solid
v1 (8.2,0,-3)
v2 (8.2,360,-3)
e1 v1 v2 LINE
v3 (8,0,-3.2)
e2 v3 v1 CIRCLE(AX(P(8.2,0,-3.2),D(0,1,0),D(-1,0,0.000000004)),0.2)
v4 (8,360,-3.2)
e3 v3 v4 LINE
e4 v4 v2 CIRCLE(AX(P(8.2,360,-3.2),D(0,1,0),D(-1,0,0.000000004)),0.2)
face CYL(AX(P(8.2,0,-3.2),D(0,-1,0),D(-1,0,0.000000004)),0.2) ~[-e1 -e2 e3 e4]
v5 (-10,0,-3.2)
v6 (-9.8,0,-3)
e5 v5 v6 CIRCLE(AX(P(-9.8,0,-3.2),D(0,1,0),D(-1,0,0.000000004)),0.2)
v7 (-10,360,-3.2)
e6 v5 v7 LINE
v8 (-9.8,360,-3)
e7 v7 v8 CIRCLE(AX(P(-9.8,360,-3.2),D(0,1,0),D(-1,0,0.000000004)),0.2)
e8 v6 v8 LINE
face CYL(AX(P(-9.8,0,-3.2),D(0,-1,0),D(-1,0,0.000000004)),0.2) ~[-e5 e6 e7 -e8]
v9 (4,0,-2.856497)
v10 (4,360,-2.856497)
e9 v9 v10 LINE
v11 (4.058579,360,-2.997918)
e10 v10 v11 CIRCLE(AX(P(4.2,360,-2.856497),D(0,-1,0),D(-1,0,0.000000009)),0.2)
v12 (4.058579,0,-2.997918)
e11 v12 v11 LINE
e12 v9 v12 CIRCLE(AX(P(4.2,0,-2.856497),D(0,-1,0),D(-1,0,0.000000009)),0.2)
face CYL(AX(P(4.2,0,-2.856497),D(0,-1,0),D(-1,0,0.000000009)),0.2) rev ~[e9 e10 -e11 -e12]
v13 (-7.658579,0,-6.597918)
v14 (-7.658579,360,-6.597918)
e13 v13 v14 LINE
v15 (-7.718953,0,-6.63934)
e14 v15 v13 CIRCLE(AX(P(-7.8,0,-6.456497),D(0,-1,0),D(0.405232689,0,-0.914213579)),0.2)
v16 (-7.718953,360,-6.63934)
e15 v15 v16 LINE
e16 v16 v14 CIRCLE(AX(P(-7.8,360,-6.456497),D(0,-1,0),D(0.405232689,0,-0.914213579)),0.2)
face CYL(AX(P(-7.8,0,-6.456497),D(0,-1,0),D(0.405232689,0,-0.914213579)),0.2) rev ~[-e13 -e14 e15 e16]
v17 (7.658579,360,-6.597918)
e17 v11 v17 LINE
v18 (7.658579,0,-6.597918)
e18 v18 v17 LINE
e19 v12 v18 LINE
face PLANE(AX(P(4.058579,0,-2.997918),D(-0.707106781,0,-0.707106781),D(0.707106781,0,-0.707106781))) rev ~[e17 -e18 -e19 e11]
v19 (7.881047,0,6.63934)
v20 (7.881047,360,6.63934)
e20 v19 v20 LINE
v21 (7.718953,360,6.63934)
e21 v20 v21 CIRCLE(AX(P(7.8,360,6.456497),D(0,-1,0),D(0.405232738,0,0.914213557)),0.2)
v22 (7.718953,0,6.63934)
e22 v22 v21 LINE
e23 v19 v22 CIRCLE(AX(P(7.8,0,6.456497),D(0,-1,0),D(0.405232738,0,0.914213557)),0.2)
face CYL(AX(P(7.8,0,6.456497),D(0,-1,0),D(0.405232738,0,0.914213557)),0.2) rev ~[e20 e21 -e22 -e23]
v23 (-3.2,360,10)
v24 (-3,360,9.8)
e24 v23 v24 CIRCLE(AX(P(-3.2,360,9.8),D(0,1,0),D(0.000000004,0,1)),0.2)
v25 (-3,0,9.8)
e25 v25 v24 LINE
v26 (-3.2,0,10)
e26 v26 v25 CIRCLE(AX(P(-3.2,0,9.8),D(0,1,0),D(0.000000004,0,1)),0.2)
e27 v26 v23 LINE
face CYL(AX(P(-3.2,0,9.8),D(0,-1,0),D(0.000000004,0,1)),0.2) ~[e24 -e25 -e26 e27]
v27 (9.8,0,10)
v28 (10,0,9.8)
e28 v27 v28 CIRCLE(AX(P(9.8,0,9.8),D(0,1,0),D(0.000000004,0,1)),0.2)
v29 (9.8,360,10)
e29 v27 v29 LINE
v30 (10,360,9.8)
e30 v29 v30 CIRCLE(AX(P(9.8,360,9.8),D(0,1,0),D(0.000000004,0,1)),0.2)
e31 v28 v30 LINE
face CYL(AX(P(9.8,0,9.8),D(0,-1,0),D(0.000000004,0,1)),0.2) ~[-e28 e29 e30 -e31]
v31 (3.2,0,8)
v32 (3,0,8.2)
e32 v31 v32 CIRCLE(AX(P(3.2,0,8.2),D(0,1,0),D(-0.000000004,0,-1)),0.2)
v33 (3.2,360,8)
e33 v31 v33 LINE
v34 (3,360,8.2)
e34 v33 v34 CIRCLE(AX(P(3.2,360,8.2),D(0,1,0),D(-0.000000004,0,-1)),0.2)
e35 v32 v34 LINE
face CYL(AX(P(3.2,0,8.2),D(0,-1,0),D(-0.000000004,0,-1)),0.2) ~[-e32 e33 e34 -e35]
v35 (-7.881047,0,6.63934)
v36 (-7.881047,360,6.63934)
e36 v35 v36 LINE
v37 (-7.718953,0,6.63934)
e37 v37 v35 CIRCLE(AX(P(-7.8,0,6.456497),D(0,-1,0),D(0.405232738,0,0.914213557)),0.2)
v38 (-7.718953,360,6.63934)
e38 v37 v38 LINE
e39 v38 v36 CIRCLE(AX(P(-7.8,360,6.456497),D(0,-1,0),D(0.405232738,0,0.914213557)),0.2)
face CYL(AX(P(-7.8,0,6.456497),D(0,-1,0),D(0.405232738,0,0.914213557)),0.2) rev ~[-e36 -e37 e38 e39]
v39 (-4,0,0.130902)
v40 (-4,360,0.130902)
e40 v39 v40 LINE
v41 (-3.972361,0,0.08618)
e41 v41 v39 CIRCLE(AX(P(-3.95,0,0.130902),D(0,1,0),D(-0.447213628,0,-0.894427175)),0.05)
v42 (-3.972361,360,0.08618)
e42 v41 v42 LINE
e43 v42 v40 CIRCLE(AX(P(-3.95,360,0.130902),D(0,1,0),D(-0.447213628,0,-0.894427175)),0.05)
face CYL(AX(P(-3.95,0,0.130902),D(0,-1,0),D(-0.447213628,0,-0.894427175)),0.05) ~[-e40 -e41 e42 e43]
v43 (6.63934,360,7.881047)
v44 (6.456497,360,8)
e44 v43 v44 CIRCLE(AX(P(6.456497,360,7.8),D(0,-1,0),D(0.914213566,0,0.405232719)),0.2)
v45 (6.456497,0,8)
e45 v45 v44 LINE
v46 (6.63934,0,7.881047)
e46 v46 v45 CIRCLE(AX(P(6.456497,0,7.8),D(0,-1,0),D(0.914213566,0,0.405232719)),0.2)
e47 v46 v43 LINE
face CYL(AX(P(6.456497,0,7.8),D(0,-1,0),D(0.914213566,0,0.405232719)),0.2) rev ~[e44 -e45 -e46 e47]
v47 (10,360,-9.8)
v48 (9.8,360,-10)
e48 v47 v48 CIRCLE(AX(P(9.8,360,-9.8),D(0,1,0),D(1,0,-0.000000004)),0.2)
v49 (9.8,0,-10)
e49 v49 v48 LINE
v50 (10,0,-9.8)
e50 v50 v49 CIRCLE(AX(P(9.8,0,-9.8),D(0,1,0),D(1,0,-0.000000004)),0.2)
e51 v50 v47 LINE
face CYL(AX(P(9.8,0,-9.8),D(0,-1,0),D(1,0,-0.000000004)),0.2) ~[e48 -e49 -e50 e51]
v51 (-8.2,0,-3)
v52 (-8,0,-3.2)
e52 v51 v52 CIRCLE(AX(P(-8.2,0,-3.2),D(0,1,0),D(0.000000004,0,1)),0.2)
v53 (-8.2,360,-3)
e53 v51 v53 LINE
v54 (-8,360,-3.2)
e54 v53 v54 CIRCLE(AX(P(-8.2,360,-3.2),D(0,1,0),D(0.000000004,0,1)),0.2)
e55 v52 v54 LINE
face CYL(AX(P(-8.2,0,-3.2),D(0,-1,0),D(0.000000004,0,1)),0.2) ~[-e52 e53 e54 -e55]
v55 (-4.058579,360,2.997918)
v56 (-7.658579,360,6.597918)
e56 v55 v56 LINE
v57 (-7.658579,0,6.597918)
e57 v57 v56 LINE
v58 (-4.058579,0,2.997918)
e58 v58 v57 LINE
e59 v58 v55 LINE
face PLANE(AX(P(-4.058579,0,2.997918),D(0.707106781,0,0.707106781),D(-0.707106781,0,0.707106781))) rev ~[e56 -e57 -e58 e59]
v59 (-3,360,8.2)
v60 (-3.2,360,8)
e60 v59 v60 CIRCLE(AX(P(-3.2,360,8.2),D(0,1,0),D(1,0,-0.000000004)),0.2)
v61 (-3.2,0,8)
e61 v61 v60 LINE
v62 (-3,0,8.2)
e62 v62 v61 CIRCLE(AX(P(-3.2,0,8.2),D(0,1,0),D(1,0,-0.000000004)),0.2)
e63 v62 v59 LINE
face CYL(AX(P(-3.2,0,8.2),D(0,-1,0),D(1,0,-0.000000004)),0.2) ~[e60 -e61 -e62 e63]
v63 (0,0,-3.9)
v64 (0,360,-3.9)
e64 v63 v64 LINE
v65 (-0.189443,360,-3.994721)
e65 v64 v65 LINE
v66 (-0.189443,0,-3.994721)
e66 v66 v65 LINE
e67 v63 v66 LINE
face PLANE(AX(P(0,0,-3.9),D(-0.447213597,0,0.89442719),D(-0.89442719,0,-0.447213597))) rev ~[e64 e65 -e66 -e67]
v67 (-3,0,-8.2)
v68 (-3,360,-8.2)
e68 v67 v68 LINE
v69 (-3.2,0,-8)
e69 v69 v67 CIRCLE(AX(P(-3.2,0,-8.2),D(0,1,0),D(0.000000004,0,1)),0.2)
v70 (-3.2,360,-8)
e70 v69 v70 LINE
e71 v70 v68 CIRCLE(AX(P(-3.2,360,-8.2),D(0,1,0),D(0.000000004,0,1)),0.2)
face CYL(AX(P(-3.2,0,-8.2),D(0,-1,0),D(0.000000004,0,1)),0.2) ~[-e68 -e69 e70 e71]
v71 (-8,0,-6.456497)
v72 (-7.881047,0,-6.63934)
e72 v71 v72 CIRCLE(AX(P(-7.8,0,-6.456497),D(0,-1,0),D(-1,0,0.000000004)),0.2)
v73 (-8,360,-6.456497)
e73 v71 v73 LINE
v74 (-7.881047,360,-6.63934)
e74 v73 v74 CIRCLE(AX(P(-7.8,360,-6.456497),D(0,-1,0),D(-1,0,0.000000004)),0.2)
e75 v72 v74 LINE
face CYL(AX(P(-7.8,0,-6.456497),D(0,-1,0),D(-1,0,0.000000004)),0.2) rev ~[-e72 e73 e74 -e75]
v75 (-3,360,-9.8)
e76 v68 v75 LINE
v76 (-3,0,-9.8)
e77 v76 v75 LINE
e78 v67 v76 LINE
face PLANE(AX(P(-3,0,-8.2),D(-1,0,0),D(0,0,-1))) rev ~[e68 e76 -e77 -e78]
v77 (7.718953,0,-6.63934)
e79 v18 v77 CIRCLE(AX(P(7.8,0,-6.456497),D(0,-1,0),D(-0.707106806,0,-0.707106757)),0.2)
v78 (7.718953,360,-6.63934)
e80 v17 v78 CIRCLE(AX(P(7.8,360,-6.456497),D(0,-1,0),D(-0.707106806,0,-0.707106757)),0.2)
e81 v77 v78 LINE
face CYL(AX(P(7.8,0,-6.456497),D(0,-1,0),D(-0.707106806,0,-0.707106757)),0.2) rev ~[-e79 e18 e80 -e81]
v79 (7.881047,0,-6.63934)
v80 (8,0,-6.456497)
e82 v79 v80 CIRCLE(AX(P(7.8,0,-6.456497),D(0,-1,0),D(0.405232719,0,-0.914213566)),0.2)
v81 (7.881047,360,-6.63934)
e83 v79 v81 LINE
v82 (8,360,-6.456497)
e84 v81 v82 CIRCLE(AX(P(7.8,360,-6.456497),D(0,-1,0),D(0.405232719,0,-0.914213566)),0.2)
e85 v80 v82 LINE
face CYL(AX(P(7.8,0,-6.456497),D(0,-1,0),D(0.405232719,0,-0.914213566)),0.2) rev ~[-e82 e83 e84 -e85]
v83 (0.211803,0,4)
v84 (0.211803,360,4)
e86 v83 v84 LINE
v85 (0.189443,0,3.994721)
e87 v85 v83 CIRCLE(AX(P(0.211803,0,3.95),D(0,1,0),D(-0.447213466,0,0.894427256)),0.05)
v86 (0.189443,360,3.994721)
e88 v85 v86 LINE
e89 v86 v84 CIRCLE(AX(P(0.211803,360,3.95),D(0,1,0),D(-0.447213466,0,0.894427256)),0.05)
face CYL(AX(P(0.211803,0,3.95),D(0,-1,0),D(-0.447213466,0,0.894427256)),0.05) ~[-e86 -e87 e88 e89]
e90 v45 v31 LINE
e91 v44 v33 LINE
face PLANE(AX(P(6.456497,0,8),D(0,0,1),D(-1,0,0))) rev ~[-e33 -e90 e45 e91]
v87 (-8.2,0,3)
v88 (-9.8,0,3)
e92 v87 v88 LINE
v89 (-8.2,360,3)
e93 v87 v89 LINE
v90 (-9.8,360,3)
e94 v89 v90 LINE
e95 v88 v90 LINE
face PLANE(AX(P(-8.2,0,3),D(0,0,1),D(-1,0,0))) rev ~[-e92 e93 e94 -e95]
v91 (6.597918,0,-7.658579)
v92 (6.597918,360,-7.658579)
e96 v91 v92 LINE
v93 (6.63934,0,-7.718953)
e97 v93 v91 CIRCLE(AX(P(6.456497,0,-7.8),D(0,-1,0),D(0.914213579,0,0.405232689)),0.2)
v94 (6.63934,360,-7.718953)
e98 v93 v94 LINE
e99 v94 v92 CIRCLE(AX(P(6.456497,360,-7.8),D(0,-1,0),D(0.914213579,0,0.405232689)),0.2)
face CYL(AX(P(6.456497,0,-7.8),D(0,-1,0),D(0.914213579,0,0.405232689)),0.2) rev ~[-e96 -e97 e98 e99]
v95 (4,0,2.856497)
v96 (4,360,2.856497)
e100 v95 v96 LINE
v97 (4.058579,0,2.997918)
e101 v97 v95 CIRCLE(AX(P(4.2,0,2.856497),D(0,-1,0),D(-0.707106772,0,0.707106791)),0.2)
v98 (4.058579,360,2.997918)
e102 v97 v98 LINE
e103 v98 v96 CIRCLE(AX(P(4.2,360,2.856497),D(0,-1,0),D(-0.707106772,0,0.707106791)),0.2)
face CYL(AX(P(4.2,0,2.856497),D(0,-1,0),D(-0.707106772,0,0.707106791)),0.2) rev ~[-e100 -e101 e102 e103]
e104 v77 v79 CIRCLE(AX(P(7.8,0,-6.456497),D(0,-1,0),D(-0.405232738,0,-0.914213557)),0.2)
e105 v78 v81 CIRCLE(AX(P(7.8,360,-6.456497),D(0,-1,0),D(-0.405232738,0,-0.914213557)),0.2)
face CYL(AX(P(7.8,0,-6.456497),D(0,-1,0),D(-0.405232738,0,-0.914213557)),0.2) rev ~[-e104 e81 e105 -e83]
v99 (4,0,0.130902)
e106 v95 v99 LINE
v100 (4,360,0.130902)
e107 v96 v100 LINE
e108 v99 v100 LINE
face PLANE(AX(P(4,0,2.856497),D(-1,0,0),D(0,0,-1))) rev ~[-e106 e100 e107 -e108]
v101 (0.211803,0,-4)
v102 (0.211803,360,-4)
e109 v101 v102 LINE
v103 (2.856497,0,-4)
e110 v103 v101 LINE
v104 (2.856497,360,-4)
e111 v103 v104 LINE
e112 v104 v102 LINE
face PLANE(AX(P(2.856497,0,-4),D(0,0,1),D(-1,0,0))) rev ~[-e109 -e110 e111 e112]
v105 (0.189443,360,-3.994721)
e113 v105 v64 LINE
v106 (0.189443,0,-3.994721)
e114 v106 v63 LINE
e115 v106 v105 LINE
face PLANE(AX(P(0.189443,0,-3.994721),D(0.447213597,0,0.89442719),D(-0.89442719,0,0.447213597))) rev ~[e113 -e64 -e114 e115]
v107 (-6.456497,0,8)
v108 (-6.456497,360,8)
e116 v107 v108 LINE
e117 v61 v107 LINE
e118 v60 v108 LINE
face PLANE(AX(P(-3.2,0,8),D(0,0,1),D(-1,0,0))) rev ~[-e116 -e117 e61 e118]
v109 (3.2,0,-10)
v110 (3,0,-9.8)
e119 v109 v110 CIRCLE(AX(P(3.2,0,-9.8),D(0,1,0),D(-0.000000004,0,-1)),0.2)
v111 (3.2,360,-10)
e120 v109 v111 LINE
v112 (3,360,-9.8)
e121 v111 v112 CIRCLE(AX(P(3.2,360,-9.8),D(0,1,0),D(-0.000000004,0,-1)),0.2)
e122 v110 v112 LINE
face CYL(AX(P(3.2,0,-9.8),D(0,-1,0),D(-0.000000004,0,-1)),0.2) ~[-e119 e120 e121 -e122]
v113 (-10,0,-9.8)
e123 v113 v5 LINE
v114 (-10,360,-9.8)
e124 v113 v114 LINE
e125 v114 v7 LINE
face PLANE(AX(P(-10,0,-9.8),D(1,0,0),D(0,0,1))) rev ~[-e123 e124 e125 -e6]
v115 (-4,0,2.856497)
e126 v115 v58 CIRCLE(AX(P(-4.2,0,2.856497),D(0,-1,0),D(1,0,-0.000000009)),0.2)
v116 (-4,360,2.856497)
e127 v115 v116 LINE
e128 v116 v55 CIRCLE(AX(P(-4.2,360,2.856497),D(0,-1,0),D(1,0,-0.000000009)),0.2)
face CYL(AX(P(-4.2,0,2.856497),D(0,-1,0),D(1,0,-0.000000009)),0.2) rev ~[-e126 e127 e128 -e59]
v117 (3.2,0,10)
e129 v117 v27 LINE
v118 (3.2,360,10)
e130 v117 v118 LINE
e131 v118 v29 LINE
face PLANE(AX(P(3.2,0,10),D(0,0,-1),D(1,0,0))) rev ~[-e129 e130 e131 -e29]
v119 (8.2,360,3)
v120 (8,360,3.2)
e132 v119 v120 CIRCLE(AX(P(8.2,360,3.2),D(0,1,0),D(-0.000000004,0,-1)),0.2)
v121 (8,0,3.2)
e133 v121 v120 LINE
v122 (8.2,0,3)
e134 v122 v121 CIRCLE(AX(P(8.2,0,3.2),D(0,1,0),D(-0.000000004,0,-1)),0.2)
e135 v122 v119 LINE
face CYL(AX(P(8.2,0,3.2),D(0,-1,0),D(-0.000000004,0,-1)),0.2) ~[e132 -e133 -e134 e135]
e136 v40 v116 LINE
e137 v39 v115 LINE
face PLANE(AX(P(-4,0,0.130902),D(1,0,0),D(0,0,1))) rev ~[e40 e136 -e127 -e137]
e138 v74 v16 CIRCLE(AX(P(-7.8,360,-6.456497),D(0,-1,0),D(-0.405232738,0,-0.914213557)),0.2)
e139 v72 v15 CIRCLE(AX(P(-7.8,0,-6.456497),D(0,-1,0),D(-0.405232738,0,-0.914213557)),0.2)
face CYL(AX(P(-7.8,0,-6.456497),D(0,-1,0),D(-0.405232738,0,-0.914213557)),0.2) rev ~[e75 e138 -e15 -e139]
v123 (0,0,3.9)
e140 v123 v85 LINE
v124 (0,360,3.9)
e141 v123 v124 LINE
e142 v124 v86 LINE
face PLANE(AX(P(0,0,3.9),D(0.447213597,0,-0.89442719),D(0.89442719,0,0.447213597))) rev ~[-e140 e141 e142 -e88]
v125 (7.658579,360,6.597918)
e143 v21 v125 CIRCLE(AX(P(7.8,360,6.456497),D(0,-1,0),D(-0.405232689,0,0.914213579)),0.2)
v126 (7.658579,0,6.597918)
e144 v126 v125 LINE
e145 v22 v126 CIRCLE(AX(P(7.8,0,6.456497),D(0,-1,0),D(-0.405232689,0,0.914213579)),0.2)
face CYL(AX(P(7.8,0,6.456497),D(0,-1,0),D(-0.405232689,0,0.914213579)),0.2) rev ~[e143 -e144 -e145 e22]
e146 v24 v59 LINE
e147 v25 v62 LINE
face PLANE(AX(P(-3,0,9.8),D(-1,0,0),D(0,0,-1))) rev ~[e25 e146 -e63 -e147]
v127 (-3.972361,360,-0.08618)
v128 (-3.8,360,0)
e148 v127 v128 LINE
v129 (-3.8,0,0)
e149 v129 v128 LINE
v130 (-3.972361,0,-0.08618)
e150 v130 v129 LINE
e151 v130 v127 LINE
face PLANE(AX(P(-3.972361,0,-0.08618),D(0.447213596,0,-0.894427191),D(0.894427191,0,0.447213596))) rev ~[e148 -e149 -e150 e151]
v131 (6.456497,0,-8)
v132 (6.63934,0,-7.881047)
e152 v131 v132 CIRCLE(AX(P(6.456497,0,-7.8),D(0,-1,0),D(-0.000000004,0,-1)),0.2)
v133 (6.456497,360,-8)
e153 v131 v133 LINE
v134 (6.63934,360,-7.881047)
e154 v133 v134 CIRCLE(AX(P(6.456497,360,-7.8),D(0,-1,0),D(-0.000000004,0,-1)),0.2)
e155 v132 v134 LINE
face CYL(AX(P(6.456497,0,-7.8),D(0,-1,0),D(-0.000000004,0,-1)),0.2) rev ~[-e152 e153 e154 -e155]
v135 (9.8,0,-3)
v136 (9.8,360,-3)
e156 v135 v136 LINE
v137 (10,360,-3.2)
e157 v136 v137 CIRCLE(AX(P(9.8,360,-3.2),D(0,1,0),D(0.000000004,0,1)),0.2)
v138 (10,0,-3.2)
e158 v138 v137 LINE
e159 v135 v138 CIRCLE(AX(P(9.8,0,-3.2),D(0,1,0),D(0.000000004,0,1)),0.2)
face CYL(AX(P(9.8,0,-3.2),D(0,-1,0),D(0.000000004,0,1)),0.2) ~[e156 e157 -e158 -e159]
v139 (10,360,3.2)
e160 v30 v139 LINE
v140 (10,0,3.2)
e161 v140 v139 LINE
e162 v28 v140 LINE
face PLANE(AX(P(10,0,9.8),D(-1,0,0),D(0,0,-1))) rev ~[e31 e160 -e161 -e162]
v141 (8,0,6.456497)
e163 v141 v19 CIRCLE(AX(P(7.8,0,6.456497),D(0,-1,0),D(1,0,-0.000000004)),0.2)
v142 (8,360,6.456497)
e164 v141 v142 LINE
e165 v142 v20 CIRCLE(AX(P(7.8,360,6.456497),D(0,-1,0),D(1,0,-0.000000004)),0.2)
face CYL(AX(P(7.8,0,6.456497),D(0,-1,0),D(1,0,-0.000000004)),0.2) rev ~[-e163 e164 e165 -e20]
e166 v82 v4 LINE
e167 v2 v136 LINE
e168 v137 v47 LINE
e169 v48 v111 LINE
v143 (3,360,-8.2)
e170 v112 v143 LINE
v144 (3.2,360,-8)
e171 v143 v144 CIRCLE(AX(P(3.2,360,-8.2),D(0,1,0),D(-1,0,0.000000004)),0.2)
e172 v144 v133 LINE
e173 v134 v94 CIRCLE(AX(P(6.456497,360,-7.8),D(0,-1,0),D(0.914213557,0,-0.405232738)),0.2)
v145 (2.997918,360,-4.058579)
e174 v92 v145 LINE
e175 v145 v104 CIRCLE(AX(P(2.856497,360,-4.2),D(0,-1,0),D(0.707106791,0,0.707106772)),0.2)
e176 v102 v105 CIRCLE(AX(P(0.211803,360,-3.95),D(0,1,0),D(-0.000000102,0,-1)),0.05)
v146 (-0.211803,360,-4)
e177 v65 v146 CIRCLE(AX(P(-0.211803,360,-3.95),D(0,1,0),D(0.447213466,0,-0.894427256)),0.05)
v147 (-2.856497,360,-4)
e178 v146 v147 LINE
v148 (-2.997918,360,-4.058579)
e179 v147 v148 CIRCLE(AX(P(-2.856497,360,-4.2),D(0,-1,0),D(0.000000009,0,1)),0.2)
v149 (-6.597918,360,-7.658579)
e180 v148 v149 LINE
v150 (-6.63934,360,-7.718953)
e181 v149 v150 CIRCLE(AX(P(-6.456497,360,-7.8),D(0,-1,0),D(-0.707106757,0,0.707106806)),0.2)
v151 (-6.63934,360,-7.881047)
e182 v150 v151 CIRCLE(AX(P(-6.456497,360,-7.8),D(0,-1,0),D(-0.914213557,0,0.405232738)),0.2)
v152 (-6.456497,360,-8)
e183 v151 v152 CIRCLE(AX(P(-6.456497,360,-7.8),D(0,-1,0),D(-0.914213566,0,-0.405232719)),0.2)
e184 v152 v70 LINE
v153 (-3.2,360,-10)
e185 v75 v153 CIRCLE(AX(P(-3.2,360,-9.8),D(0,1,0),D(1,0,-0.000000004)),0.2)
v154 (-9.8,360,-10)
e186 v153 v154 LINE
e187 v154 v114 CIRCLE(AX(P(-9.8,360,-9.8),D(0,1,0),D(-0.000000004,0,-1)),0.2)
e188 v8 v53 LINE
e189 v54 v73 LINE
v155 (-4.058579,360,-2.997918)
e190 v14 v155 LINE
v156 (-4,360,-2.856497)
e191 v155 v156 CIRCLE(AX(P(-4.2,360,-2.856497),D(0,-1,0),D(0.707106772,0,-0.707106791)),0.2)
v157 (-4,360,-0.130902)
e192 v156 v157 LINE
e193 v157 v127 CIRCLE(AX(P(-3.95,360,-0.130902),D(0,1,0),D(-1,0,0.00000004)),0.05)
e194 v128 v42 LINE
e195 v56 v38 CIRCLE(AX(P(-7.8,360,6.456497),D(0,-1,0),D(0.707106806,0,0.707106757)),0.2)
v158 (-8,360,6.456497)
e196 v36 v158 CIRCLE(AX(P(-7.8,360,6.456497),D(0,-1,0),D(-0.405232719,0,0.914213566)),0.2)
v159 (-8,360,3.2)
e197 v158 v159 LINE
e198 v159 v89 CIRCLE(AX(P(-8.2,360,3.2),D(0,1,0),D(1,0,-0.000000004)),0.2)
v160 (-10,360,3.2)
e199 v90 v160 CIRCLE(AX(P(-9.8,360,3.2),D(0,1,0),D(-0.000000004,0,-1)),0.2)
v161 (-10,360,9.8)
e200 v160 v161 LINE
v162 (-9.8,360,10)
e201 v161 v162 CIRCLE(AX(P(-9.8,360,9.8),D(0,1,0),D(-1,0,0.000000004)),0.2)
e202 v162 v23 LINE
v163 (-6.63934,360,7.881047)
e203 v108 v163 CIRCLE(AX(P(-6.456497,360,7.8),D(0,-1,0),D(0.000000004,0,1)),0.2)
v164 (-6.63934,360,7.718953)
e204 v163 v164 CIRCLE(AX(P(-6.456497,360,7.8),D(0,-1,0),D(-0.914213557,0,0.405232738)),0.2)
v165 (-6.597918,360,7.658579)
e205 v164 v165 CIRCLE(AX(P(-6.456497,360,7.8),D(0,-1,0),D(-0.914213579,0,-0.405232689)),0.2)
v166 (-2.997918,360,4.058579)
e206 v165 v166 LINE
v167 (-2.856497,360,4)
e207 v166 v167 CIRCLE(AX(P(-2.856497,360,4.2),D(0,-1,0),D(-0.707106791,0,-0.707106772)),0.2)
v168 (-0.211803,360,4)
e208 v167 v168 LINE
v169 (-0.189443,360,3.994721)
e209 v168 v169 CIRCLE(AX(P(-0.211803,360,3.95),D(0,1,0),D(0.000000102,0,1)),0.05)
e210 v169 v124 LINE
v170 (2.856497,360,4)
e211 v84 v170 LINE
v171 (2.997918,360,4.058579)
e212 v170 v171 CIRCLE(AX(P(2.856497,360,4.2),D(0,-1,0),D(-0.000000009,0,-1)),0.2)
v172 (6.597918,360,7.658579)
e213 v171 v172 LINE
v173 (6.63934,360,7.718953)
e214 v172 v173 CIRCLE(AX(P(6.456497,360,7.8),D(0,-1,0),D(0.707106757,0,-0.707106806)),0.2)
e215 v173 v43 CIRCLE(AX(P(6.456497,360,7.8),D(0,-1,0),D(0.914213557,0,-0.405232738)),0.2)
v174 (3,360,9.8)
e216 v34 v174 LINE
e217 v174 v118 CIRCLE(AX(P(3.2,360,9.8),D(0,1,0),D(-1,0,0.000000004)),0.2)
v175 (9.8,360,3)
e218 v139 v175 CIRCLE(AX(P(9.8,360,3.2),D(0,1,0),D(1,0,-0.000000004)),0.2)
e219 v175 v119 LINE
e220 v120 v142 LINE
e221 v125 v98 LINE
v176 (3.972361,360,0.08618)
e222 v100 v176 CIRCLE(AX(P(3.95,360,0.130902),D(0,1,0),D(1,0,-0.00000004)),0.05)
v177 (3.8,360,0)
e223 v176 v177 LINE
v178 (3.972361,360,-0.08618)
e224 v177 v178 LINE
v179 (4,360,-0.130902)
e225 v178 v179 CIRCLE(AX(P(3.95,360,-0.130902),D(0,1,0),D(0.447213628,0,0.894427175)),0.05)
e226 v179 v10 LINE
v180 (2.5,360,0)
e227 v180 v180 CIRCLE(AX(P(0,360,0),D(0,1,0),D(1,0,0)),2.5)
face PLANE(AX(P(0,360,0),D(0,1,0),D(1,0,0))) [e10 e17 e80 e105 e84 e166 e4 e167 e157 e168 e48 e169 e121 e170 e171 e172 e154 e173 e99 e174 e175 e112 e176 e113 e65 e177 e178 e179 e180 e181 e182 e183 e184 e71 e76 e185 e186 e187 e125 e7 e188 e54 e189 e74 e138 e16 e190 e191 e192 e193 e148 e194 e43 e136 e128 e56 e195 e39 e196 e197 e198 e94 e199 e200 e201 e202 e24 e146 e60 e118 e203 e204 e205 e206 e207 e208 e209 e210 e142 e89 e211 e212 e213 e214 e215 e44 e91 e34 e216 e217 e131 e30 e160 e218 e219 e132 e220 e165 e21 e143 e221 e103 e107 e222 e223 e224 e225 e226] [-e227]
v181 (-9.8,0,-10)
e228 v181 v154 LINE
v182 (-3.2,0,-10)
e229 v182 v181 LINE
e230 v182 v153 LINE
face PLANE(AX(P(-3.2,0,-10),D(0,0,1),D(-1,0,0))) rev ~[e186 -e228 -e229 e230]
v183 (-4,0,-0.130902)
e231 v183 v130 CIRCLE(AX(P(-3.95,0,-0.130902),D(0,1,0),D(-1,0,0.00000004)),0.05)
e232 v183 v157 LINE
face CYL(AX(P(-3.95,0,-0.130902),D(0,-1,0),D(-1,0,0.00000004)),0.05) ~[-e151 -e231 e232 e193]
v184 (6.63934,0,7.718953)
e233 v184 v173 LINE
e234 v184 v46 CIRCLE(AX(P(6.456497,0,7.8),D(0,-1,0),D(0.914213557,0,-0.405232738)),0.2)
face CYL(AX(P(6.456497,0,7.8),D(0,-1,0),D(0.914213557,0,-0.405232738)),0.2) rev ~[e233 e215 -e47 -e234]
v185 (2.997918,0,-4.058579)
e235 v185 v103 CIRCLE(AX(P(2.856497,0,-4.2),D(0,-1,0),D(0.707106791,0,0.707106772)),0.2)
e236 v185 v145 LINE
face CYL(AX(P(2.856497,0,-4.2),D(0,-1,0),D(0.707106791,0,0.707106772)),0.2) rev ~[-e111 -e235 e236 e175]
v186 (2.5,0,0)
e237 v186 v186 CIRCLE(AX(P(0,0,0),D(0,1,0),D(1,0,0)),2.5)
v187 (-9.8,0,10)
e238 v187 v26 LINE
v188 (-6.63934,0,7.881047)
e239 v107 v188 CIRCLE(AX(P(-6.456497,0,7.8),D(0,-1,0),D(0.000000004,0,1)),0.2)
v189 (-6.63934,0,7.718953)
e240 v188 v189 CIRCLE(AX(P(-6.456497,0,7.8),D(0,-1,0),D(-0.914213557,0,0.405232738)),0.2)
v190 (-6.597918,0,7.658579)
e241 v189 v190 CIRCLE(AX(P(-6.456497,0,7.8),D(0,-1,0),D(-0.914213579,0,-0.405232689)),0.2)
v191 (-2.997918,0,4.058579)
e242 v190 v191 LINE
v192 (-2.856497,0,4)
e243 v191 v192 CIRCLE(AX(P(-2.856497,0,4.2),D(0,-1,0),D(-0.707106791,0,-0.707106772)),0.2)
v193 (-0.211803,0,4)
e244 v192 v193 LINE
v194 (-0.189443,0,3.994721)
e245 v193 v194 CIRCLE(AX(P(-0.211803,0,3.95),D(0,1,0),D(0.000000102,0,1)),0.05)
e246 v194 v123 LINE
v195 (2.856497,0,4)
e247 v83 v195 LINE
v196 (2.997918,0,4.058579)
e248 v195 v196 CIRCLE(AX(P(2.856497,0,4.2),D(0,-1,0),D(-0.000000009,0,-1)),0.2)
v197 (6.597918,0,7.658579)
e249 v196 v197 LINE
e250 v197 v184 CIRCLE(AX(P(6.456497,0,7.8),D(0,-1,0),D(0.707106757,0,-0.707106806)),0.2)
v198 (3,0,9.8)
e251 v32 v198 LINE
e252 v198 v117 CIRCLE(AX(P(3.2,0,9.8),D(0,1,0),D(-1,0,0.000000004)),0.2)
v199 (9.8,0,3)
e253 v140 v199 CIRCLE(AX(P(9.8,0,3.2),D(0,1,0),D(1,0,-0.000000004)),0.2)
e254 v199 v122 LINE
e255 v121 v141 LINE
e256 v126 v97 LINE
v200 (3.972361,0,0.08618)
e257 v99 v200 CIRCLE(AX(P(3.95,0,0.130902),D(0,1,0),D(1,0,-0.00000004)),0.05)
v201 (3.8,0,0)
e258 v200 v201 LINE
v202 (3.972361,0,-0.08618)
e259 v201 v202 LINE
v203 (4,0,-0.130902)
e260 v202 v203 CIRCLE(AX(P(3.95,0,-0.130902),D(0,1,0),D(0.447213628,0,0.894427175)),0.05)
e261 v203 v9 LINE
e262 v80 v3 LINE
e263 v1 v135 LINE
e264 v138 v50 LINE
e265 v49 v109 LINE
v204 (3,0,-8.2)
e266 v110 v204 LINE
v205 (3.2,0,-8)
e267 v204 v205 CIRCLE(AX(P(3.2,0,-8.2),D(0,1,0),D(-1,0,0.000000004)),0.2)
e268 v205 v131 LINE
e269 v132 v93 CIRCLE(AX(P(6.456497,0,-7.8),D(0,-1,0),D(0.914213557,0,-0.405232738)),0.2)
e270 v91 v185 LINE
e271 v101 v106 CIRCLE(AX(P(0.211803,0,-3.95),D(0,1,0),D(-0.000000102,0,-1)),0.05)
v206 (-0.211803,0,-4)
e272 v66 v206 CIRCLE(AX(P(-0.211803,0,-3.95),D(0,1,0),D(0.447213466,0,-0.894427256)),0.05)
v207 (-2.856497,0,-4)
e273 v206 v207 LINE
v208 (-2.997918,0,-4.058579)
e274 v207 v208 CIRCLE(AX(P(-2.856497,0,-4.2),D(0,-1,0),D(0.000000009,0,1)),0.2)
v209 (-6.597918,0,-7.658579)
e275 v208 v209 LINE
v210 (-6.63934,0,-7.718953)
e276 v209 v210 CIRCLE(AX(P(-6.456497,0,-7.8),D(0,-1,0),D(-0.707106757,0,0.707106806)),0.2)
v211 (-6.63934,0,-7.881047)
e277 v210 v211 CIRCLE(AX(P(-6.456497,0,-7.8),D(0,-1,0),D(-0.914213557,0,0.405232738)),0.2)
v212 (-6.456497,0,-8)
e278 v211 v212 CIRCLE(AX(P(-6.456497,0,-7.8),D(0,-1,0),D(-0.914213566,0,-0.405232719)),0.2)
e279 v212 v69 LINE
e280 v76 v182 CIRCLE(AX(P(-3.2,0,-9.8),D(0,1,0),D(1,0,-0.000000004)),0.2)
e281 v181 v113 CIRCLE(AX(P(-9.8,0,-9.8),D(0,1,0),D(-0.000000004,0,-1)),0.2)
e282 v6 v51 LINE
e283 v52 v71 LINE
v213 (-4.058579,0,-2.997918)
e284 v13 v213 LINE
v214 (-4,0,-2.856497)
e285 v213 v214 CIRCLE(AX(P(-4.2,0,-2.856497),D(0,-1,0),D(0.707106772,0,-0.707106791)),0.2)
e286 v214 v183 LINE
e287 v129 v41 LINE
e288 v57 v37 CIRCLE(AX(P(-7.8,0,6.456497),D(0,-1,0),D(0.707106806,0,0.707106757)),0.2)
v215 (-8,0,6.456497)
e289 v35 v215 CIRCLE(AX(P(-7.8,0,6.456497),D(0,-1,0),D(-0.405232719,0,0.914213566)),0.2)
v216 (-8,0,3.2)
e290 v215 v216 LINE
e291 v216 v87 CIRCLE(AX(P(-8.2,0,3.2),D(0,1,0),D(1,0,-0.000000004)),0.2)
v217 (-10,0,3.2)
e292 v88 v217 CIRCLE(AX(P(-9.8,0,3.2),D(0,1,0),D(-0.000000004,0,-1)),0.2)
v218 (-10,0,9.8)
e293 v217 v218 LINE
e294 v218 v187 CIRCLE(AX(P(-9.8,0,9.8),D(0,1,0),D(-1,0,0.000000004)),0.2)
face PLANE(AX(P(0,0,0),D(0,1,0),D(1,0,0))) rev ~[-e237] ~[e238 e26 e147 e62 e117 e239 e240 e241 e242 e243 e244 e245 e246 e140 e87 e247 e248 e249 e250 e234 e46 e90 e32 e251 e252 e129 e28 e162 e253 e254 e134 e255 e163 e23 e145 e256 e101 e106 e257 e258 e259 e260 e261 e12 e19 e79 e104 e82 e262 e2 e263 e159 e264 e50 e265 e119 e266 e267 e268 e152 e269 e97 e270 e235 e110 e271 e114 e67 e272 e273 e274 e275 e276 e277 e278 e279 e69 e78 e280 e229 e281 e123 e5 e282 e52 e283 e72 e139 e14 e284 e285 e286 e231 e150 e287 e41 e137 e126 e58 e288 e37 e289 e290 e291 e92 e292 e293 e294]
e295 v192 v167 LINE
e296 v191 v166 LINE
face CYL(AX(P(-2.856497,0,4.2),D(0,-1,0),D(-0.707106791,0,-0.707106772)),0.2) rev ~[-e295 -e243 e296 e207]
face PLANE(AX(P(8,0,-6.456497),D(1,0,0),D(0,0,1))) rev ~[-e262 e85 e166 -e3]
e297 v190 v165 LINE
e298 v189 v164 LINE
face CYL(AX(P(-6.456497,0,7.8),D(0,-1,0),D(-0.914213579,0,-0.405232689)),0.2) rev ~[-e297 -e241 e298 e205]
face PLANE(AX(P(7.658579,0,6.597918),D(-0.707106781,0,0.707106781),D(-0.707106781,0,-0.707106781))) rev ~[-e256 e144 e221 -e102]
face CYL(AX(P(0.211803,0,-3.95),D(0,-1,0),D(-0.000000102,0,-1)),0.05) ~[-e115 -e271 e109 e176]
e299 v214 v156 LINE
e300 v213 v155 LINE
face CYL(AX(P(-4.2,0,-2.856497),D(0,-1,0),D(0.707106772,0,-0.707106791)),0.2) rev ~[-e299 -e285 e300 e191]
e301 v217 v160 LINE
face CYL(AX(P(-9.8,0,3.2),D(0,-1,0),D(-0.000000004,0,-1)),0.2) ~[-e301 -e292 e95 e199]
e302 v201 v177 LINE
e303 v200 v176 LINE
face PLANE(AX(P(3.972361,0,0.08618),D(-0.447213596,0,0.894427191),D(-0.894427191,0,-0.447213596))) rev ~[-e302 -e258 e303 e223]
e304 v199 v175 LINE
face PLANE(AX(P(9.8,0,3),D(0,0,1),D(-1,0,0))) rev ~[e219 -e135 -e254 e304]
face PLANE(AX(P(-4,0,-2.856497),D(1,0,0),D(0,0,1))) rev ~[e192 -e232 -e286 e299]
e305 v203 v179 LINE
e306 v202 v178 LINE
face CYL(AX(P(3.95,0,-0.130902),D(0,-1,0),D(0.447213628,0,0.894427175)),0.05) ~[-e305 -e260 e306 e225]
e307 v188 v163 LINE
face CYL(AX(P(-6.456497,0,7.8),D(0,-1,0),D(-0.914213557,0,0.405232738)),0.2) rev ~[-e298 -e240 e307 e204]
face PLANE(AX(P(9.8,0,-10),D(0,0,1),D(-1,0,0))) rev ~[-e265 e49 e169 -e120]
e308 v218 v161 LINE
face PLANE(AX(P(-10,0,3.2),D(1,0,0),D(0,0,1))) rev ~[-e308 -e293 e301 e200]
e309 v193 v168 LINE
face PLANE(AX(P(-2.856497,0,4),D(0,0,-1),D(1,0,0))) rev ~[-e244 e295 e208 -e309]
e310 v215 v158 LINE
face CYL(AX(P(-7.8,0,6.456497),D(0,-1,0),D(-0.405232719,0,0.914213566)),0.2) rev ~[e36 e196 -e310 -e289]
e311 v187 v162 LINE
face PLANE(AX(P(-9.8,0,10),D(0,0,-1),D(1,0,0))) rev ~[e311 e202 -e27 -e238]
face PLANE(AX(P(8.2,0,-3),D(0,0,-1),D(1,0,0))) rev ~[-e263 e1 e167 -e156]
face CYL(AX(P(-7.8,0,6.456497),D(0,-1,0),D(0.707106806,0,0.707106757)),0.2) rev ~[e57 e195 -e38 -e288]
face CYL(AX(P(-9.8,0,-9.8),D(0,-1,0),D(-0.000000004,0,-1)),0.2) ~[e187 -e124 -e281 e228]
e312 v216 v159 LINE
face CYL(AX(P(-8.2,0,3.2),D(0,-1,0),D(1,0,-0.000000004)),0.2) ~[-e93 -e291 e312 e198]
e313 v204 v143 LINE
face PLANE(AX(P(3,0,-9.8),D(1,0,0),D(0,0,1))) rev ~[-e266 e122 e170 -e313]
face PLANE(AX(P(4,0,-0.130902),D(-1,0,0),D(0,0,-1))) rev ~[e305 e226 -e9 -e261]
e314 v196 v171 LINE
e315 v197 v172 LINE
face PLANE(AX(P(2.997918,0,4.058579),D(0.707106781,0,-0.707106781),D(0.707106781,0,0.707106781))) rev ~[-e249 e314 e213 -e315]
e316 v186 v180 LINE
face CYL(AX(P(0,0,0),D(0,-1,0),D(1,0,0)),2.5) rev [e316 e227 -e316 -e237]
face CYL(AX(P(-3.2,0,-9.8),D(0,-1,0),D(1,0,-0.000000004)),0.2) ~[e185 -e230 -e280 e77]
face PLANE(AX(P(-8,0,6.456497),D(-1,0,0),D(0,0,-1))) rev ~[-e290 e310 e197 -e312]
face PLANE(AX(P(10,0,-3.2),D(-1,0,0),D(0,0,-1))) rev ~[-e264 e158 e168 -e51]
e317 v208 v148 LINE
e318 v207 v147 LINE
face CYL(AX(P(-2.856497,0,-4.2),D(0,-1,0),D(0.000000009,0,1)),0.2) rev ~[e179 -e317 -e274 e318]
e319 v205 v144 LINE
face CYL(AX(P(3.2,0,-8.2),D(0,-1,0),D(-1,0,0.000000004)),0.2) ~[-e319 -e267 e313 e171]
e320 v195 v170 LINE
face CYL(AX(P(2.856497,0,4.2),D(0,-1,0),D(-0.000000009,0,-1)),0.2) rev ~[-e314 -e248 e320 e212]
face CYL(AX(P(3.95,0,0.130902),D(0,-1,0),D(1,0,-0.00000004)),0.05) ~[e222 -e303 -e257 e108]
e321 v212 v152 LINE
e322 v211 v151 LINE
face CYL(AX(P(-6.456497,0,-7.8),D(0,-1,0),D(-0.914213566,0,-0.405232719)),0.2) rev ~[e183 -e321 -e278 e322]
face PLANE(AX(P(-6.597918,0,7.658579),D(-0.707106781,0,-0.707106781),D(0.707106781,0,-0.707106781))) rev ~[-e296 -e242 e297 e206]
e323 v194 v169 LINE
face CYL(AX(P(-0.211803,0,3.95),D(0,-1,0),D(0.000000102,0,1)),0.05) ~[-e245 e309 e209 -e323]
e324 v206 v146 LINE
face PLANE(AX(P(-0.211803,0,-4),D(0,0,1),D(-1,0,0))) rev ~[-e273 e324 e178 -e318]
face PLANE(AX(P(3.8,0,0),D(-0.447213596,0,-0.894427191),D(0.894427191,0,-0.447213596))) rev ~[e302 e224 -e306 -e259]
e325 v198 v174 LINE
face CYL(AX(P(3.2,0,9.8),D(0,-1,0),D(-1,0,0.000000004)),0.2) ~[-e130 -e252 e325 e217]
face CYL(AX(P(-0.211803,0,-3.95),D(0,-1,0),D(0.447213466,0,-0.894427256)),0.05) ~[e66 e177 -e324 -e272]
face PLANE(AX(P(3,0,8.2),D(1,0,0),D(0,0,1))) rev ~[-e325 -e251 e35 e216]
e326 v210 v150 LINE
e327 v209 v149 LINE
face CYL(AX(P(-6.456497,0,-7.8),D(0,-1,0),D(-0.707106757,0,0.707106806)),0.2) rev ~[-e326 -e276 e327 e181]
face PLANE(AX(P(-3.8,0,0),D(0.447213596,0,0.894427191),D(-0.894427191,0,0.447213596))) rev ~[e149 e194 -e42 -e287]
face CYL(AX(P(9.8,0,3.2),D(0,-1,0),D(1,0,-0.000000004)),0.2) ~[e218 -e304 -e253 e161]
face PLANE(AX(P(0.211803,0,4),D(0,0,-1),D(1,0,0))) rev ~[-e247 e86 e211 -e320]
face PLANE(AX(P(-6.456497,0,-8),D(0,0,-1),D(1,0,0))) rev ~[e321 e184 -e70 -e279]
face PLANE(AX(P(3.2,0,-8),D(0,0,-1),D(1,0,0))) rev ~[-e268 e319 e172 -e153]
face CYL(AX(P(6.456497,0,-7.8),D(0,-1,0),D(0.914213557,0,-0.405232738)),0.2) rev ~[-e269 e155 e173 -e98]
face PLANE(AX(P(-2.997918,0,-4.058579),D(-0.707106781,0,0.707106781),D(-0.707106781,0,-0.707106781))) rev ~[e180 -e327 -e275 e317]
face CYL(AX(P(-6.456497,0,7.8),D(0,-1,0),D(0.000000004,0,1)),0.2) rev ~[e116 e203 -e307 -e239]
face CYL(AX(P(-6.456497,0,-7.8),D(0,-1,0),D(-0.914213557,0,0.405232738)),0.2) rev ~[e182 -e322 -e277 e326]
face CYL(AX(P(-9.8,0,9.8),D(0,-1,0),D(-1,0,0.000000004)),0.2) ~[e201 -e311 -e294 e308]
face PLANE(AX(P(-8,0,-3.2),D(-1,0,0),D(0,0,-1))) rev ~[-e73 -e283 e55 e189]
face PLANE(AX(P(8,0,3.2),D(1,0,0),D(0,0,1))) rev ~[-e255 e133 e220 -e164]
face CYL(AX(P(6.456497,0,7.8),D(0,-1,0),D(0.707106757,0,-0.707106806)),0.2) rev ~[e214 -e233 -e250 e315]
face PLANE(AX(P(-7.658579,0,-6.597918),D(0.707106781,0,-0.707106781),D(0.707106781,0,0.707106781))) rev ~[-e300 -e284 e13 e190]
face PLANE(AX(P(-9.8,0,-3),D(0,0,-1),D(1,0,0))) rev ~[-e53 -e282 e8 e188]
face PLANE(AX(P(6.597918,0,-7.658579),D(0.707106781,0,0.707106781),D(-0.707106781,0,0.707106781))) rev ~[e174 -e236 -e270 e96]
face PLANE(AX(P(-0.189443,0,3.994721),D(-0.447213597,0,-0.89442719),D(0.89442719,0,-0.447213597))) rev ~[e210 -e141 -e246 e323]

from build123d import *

# Parameters (mm, degrees)
SKETCH1_R           = 2.5
BOSS_EXTRUDE1_DEPTH = 360


with BuildPart() as part:
    # Sketch1 → Boss-Extrude1 (new body)
    with BuildSketch(Plane(origin=(0, 0, 0), x_dir=(1, 0, 0), z_dir=(0, 1, 0))):
        with BuildLine():
            Line((-2.997918472, 4.058578644), (-6.597918472, 7.658578644))
            ThreePointArc((-6.597918472, 7.658578644), (-6.621415508, 7.686854412), (-6.639339828, 7.718953455))
            ThreePointArc((-6.639339828, 7.718953455), (-6.656497116, 7.8), (-6.639339828, 7.881046545))
            ThreePointArc((-6.639339828, 7.881046545), (-6.565562901, 7.967644429), (-6.456497116, 8))
            Line((-6.456497116, 8), (-3.2, 8))
            ThreePointArc((-3.2, 8), (-3.058578644, 8.058578644), (-3, 8.2))
            Line((-3, 8.2), (-3, 9.8))
            ThreePointArc((-3, 9.8), (-3.058578644, 9.941421356), (-3.2, 10))
            Line((-3.2, 10), (-9.8, 10))
            ThreePointArc((-9.8, 10), (-9.941421356, 9.941421356), (-10, 9.8))
            Line((-10, 9.8), (-10, 3.2))
            ThreePointArc((-10, 3.2), (-9.941421356, 3.058578644), (-9.8, 3))
            Line((-9.8, 3), (-8.2, 3))
            ThreePointArc((-8.2, 3), (-8.058578644, 3.058578644), (-8, 3.2))
            Line((-8, 3.2), (-8, 6.456497116))
            ThreePointArc((-8, 6.456497116), (-7.967644429, 6.565562901), (-7.881046545, 6.639339828))
            ThreePointArc((-7.881046545, 6.639339828), (-7.8, 6.656497116), (-7.718953455, 6.639339828))
            ThreePointArc((-7.718953455, 6.639339828), (-7.686854412, 6.621415508), (-7.658578644, 6.597918472))
            Line((-7.658578644, 6.597918472), (-4.058578644, 2.997918472))
            ThreePointArc((-4.058578644, 2.997918472), (-4.015224093, 2.933033802), (-4, 2.856497116))
            Line((-4, 2.856497116), (-4, 0.130901699))
            ThreePointArc((-4, 0.130901699), (-3.99253254, 0.104615144), (-3.97236068, 0.08618034))
            Line((-3.97236068, 0.08618034), (-3.8, 0))
            Line((-3.8, 0), (-3.97236068, -0.08618034))
            ThreePointArc((-3.97236068, -0.08618034), (-3.99253254, -0.104615144), (-4, -0.130901699))
            Line((-4, -0.130901699), (-4, -2.856497116))
            ThreePointArc((-4, -2.856497116), (-4.015224093, -2.933033802), (-4.058578644, -2.997918472))
            Line((-4.058578644, -2.997918472), (-7.658578644, -6.597918472))
            ThreePointArc((-7.658578644, -6.597918472), (-7.686854412, -6.621415508), (-7.718953455, -6.639339828))
            ThreePointArc((-7.718953455, -6.639339828), (-7.8, -6.656497116), (-7.881046545, -6.639339828))
            ThreePointArc((-7.881046545, -6.639339828), (-7.967644429, -6.565562901), (-8, -6.456497116))
            Line((-8, -6.456497116), (-8, -3.2))
            ThreePointArc((-8, -3.2), (-8.058578644, -3.058578644), (-8.2, -3))
            Line((-8.2, -3), (-9.8, -3))
            ThreePointArc((-9.8, -3), (-9.941421356, -3.058578644), (-10, -3.2))
            Line((-10, -3.2), (-10, -9.8))
            ThreePointArc((-10, -9.8), (-9.941421356, -9.941421356), (-9.8, -10))
            Line((-9.8, -10), (-3.2, -10))
            ThreePointArc((-3.2, -10), (-3.058578644, -9.941421356), (-3, -9.8))
            Line((-3, -9.8), (-3, -8.2))
            ThreePointArc((-3, -8.2), (-3.058578644, -8.058578644), (-3.2, -8))
            Line((-3.2, -8), (-6.456497116, -8))
            ThreePointArc((-6.456497116, -8), (-6.565562901, -7.967644429), (-6.639339828, -7.881046545))
            ThreePointArc((-6.639339828, -7.881046545), (-6.656497116, -7.8), (-6.639339828, -7.718953455))
            ThreePointArc((-6.639339828, -7.718953455), (-6.621415508, -7.686854412), (-6.597918472, -7.658578644))
            Line((-6.597918472, -7.658578644), (-2.997918472, -4.058578644))
            ThreePointArc((-2.997918472, -4.058578644), (-2.933033802, -4.015224093), (-2.856497116, -4))
            Line((-2.856497116, -4), (-0.211803399, -4))
            ThreePointArc((-0.211803399, -4), (-0.200315753, -3.998662449), (-0.189442719, -3.99472136))
            Line((-0.189442719, -3.99472136), (0, -3.9))
            Line((0, -3.9), (0.189442719, -3.99472136))
            ThreePointArc((0.189442719, -3.99472136), (0.200315753, -3.998662449), (0.211803399, -4))
            Line((0.211803399, -4), (2.856497116, -4))
            ThreePointArc((2.856497116, -4), (2.933033802, -4.015224093), (2.997918472, -4.058578644))
            Line((2.997918472, -4.058578644), (6.597918472, -7.658578644))
            ThreePointArc((6.597918472, -7.658578644), (6.621415508, -7.686854412), (6.639339828, -7.718953455))
            ThreePointArc((6.639339828, -7.718953455), (6.656497116, -7.8), (6.639339828, -7.881046545))
            ThreePointArc((6.639339828, -7.881046545), (6.565562901, -7.967644429), (6.456497116, -8))
            Line((6.456497116, -8), (3.2, -8))
            ThreePointArc((3.2, -8), (3.058578644, -8.058578644), (3, -8.2))
            Line((3, -8.2), (3, -9.8))
            ThreePointArc((3, -9.8), (3.058578644, -9.941421356), (3.2, -10))
            Line((3.2, -10), (9.8, -10))
            ThreePointArc((9.8, -10), (9.941421356, -9.941421356), (10, -9.8))
            Line((10, -9.8), (10, -3.2))
            ThreePointArc((10, -3.2), (9.941421356, -3.058578644), (9.8, -3))
            Line((9.8, -3), (8.2, -3))
            ThreePointArc((8.2, -3), (8.058578644, -3.058578644), (8, -3.2))
            Line((8, -3.2), (8, -6.456497116))
            ThreePointArc((8, -6.456497116), (7.967644429, -6.565562901), (7.881046545, -6.639339828))
            ThreePointArc((7.881046545, -6.639339828), (7.8, -6.656497116), (7.718953455, -6.639339828))
            ThreePointArc((7.718953455, -6.639339828), (7.686854412, -6.621415508), (7.658578644, -6.597918472))
            Line((7.658578644, -6.597918472), (4.058578644, -2.997918472))
            ThreePointArc((4.058578644, -2.997918472), (4.015224093, -2.933033802), (4, -2.856497116))
            Line((4, -2.856497116), (4, -0.130901699))
            ThreePointArc((4, -0.130901699), (3.99253254, -0.104615144), (3.97236068, -0.08618034))
            Line((3.97236068, -0.08618034), (3.8, 0))
            Line((3.8, 0), (3.97236068, 0.08618034))
            ThreePointArc((3.97236068, 0.08618034), (3.99253254, 0.104615144), (4, 0.130901699))
            Line((4, 0.130901699), (4, 2.856497116))
            ThreePointArc((4, 2.856497116), (4.015224093, 2.933033802), (4.058578644, 2.997918472))
            Line((4.058578644, 2.997918472), (7.658578644, 6.597918472))
            ThreePointArc((7.658578644, 6.597918472), (7.686854412, 6.621415508), (7.718953455, 6.639339828))
            ThreePointArc((7.718953455, 6.639339828), (7.8, 6.656497116), (7.881046545, 6.639339828))
            ThreePointArc((7.881046545, 6.639339828), (7.967644429, 6.565562901), (8, 6.456497116))
            Line((8, 6.456497116), (8, 3.2))
            ThreePointArc((8, 3.2), (8.058578644, 3.058578644), (8.2, 3))
            Line((8.2, 3), (9.8, 3))
            ThreePointArc((9.8, 3), (9.941421356, 3.058578644), (10, 3.2))
            Line((10, 3.2), (10, 9.8))
            ThreePointArc((10, 9.8), (9.941421356, 9.941421356), (9.8, 10))
            Line((9.8, 10), (3.2, 10))
            ThreePointArc((3.2, 10), (3.058578644, 9.941421356), (3, 9.8))
            Line((3, 9.8), (3, 8.2))
            ThreePointArc((3, 8.2), (3.058578644, 8.058578644), (3.2, 8))
            Line((3.2, 8), (6.456497116, 8))
            ThreePointArc((6.456497116, 8), (6.565562901, 7.967644429), (6.639339828, 7.881046545))
            ThreePointArc((6.639339828, 7.881046545), (6.656497116, 7.8), (6.639339828, 7.718953455))
            ThreePointArc((6.639339828, 7.718953455), (6.621415508, 7.686854412), (6.597918472, 7.658578644))
            Line((6.597918472, 7.658578644), (2.997918472, 4.058578644))
            ThreePointArc((2.997918472, 4.058578644), (2.933033802, 4.015224093), (2.856497116, 4))
            Line((2.856497116, 4), (0.211803399, 4))
            ThreePointArc((0.211803399, 4), (0.200315753, 3.998662449), (0.189442719, 3.99472136))
            Line((0.189442719, 3.99472136), (0, 3.9))
            Line((0, 3.9), (-0.189442719, 3.99472136))
            ThreePointArc((-0.189442719, 3.99472136), (-0.200315753, 3.998662449), (-0.211803399, 4))
            Line((-0.211803399, 4), (-2.856497116, 4))
            ThreePointArc((-2.856497116, 4), (-2.933033802, 4.015224093), (-2.997918472, 4.058578644))
        make_face()
        Circle(SKETCH1_R, mode=Mode.SUBTRACT)
    extrude(amount=BOSS_EXTRUDE1_DEPTH)


solid = part.part
